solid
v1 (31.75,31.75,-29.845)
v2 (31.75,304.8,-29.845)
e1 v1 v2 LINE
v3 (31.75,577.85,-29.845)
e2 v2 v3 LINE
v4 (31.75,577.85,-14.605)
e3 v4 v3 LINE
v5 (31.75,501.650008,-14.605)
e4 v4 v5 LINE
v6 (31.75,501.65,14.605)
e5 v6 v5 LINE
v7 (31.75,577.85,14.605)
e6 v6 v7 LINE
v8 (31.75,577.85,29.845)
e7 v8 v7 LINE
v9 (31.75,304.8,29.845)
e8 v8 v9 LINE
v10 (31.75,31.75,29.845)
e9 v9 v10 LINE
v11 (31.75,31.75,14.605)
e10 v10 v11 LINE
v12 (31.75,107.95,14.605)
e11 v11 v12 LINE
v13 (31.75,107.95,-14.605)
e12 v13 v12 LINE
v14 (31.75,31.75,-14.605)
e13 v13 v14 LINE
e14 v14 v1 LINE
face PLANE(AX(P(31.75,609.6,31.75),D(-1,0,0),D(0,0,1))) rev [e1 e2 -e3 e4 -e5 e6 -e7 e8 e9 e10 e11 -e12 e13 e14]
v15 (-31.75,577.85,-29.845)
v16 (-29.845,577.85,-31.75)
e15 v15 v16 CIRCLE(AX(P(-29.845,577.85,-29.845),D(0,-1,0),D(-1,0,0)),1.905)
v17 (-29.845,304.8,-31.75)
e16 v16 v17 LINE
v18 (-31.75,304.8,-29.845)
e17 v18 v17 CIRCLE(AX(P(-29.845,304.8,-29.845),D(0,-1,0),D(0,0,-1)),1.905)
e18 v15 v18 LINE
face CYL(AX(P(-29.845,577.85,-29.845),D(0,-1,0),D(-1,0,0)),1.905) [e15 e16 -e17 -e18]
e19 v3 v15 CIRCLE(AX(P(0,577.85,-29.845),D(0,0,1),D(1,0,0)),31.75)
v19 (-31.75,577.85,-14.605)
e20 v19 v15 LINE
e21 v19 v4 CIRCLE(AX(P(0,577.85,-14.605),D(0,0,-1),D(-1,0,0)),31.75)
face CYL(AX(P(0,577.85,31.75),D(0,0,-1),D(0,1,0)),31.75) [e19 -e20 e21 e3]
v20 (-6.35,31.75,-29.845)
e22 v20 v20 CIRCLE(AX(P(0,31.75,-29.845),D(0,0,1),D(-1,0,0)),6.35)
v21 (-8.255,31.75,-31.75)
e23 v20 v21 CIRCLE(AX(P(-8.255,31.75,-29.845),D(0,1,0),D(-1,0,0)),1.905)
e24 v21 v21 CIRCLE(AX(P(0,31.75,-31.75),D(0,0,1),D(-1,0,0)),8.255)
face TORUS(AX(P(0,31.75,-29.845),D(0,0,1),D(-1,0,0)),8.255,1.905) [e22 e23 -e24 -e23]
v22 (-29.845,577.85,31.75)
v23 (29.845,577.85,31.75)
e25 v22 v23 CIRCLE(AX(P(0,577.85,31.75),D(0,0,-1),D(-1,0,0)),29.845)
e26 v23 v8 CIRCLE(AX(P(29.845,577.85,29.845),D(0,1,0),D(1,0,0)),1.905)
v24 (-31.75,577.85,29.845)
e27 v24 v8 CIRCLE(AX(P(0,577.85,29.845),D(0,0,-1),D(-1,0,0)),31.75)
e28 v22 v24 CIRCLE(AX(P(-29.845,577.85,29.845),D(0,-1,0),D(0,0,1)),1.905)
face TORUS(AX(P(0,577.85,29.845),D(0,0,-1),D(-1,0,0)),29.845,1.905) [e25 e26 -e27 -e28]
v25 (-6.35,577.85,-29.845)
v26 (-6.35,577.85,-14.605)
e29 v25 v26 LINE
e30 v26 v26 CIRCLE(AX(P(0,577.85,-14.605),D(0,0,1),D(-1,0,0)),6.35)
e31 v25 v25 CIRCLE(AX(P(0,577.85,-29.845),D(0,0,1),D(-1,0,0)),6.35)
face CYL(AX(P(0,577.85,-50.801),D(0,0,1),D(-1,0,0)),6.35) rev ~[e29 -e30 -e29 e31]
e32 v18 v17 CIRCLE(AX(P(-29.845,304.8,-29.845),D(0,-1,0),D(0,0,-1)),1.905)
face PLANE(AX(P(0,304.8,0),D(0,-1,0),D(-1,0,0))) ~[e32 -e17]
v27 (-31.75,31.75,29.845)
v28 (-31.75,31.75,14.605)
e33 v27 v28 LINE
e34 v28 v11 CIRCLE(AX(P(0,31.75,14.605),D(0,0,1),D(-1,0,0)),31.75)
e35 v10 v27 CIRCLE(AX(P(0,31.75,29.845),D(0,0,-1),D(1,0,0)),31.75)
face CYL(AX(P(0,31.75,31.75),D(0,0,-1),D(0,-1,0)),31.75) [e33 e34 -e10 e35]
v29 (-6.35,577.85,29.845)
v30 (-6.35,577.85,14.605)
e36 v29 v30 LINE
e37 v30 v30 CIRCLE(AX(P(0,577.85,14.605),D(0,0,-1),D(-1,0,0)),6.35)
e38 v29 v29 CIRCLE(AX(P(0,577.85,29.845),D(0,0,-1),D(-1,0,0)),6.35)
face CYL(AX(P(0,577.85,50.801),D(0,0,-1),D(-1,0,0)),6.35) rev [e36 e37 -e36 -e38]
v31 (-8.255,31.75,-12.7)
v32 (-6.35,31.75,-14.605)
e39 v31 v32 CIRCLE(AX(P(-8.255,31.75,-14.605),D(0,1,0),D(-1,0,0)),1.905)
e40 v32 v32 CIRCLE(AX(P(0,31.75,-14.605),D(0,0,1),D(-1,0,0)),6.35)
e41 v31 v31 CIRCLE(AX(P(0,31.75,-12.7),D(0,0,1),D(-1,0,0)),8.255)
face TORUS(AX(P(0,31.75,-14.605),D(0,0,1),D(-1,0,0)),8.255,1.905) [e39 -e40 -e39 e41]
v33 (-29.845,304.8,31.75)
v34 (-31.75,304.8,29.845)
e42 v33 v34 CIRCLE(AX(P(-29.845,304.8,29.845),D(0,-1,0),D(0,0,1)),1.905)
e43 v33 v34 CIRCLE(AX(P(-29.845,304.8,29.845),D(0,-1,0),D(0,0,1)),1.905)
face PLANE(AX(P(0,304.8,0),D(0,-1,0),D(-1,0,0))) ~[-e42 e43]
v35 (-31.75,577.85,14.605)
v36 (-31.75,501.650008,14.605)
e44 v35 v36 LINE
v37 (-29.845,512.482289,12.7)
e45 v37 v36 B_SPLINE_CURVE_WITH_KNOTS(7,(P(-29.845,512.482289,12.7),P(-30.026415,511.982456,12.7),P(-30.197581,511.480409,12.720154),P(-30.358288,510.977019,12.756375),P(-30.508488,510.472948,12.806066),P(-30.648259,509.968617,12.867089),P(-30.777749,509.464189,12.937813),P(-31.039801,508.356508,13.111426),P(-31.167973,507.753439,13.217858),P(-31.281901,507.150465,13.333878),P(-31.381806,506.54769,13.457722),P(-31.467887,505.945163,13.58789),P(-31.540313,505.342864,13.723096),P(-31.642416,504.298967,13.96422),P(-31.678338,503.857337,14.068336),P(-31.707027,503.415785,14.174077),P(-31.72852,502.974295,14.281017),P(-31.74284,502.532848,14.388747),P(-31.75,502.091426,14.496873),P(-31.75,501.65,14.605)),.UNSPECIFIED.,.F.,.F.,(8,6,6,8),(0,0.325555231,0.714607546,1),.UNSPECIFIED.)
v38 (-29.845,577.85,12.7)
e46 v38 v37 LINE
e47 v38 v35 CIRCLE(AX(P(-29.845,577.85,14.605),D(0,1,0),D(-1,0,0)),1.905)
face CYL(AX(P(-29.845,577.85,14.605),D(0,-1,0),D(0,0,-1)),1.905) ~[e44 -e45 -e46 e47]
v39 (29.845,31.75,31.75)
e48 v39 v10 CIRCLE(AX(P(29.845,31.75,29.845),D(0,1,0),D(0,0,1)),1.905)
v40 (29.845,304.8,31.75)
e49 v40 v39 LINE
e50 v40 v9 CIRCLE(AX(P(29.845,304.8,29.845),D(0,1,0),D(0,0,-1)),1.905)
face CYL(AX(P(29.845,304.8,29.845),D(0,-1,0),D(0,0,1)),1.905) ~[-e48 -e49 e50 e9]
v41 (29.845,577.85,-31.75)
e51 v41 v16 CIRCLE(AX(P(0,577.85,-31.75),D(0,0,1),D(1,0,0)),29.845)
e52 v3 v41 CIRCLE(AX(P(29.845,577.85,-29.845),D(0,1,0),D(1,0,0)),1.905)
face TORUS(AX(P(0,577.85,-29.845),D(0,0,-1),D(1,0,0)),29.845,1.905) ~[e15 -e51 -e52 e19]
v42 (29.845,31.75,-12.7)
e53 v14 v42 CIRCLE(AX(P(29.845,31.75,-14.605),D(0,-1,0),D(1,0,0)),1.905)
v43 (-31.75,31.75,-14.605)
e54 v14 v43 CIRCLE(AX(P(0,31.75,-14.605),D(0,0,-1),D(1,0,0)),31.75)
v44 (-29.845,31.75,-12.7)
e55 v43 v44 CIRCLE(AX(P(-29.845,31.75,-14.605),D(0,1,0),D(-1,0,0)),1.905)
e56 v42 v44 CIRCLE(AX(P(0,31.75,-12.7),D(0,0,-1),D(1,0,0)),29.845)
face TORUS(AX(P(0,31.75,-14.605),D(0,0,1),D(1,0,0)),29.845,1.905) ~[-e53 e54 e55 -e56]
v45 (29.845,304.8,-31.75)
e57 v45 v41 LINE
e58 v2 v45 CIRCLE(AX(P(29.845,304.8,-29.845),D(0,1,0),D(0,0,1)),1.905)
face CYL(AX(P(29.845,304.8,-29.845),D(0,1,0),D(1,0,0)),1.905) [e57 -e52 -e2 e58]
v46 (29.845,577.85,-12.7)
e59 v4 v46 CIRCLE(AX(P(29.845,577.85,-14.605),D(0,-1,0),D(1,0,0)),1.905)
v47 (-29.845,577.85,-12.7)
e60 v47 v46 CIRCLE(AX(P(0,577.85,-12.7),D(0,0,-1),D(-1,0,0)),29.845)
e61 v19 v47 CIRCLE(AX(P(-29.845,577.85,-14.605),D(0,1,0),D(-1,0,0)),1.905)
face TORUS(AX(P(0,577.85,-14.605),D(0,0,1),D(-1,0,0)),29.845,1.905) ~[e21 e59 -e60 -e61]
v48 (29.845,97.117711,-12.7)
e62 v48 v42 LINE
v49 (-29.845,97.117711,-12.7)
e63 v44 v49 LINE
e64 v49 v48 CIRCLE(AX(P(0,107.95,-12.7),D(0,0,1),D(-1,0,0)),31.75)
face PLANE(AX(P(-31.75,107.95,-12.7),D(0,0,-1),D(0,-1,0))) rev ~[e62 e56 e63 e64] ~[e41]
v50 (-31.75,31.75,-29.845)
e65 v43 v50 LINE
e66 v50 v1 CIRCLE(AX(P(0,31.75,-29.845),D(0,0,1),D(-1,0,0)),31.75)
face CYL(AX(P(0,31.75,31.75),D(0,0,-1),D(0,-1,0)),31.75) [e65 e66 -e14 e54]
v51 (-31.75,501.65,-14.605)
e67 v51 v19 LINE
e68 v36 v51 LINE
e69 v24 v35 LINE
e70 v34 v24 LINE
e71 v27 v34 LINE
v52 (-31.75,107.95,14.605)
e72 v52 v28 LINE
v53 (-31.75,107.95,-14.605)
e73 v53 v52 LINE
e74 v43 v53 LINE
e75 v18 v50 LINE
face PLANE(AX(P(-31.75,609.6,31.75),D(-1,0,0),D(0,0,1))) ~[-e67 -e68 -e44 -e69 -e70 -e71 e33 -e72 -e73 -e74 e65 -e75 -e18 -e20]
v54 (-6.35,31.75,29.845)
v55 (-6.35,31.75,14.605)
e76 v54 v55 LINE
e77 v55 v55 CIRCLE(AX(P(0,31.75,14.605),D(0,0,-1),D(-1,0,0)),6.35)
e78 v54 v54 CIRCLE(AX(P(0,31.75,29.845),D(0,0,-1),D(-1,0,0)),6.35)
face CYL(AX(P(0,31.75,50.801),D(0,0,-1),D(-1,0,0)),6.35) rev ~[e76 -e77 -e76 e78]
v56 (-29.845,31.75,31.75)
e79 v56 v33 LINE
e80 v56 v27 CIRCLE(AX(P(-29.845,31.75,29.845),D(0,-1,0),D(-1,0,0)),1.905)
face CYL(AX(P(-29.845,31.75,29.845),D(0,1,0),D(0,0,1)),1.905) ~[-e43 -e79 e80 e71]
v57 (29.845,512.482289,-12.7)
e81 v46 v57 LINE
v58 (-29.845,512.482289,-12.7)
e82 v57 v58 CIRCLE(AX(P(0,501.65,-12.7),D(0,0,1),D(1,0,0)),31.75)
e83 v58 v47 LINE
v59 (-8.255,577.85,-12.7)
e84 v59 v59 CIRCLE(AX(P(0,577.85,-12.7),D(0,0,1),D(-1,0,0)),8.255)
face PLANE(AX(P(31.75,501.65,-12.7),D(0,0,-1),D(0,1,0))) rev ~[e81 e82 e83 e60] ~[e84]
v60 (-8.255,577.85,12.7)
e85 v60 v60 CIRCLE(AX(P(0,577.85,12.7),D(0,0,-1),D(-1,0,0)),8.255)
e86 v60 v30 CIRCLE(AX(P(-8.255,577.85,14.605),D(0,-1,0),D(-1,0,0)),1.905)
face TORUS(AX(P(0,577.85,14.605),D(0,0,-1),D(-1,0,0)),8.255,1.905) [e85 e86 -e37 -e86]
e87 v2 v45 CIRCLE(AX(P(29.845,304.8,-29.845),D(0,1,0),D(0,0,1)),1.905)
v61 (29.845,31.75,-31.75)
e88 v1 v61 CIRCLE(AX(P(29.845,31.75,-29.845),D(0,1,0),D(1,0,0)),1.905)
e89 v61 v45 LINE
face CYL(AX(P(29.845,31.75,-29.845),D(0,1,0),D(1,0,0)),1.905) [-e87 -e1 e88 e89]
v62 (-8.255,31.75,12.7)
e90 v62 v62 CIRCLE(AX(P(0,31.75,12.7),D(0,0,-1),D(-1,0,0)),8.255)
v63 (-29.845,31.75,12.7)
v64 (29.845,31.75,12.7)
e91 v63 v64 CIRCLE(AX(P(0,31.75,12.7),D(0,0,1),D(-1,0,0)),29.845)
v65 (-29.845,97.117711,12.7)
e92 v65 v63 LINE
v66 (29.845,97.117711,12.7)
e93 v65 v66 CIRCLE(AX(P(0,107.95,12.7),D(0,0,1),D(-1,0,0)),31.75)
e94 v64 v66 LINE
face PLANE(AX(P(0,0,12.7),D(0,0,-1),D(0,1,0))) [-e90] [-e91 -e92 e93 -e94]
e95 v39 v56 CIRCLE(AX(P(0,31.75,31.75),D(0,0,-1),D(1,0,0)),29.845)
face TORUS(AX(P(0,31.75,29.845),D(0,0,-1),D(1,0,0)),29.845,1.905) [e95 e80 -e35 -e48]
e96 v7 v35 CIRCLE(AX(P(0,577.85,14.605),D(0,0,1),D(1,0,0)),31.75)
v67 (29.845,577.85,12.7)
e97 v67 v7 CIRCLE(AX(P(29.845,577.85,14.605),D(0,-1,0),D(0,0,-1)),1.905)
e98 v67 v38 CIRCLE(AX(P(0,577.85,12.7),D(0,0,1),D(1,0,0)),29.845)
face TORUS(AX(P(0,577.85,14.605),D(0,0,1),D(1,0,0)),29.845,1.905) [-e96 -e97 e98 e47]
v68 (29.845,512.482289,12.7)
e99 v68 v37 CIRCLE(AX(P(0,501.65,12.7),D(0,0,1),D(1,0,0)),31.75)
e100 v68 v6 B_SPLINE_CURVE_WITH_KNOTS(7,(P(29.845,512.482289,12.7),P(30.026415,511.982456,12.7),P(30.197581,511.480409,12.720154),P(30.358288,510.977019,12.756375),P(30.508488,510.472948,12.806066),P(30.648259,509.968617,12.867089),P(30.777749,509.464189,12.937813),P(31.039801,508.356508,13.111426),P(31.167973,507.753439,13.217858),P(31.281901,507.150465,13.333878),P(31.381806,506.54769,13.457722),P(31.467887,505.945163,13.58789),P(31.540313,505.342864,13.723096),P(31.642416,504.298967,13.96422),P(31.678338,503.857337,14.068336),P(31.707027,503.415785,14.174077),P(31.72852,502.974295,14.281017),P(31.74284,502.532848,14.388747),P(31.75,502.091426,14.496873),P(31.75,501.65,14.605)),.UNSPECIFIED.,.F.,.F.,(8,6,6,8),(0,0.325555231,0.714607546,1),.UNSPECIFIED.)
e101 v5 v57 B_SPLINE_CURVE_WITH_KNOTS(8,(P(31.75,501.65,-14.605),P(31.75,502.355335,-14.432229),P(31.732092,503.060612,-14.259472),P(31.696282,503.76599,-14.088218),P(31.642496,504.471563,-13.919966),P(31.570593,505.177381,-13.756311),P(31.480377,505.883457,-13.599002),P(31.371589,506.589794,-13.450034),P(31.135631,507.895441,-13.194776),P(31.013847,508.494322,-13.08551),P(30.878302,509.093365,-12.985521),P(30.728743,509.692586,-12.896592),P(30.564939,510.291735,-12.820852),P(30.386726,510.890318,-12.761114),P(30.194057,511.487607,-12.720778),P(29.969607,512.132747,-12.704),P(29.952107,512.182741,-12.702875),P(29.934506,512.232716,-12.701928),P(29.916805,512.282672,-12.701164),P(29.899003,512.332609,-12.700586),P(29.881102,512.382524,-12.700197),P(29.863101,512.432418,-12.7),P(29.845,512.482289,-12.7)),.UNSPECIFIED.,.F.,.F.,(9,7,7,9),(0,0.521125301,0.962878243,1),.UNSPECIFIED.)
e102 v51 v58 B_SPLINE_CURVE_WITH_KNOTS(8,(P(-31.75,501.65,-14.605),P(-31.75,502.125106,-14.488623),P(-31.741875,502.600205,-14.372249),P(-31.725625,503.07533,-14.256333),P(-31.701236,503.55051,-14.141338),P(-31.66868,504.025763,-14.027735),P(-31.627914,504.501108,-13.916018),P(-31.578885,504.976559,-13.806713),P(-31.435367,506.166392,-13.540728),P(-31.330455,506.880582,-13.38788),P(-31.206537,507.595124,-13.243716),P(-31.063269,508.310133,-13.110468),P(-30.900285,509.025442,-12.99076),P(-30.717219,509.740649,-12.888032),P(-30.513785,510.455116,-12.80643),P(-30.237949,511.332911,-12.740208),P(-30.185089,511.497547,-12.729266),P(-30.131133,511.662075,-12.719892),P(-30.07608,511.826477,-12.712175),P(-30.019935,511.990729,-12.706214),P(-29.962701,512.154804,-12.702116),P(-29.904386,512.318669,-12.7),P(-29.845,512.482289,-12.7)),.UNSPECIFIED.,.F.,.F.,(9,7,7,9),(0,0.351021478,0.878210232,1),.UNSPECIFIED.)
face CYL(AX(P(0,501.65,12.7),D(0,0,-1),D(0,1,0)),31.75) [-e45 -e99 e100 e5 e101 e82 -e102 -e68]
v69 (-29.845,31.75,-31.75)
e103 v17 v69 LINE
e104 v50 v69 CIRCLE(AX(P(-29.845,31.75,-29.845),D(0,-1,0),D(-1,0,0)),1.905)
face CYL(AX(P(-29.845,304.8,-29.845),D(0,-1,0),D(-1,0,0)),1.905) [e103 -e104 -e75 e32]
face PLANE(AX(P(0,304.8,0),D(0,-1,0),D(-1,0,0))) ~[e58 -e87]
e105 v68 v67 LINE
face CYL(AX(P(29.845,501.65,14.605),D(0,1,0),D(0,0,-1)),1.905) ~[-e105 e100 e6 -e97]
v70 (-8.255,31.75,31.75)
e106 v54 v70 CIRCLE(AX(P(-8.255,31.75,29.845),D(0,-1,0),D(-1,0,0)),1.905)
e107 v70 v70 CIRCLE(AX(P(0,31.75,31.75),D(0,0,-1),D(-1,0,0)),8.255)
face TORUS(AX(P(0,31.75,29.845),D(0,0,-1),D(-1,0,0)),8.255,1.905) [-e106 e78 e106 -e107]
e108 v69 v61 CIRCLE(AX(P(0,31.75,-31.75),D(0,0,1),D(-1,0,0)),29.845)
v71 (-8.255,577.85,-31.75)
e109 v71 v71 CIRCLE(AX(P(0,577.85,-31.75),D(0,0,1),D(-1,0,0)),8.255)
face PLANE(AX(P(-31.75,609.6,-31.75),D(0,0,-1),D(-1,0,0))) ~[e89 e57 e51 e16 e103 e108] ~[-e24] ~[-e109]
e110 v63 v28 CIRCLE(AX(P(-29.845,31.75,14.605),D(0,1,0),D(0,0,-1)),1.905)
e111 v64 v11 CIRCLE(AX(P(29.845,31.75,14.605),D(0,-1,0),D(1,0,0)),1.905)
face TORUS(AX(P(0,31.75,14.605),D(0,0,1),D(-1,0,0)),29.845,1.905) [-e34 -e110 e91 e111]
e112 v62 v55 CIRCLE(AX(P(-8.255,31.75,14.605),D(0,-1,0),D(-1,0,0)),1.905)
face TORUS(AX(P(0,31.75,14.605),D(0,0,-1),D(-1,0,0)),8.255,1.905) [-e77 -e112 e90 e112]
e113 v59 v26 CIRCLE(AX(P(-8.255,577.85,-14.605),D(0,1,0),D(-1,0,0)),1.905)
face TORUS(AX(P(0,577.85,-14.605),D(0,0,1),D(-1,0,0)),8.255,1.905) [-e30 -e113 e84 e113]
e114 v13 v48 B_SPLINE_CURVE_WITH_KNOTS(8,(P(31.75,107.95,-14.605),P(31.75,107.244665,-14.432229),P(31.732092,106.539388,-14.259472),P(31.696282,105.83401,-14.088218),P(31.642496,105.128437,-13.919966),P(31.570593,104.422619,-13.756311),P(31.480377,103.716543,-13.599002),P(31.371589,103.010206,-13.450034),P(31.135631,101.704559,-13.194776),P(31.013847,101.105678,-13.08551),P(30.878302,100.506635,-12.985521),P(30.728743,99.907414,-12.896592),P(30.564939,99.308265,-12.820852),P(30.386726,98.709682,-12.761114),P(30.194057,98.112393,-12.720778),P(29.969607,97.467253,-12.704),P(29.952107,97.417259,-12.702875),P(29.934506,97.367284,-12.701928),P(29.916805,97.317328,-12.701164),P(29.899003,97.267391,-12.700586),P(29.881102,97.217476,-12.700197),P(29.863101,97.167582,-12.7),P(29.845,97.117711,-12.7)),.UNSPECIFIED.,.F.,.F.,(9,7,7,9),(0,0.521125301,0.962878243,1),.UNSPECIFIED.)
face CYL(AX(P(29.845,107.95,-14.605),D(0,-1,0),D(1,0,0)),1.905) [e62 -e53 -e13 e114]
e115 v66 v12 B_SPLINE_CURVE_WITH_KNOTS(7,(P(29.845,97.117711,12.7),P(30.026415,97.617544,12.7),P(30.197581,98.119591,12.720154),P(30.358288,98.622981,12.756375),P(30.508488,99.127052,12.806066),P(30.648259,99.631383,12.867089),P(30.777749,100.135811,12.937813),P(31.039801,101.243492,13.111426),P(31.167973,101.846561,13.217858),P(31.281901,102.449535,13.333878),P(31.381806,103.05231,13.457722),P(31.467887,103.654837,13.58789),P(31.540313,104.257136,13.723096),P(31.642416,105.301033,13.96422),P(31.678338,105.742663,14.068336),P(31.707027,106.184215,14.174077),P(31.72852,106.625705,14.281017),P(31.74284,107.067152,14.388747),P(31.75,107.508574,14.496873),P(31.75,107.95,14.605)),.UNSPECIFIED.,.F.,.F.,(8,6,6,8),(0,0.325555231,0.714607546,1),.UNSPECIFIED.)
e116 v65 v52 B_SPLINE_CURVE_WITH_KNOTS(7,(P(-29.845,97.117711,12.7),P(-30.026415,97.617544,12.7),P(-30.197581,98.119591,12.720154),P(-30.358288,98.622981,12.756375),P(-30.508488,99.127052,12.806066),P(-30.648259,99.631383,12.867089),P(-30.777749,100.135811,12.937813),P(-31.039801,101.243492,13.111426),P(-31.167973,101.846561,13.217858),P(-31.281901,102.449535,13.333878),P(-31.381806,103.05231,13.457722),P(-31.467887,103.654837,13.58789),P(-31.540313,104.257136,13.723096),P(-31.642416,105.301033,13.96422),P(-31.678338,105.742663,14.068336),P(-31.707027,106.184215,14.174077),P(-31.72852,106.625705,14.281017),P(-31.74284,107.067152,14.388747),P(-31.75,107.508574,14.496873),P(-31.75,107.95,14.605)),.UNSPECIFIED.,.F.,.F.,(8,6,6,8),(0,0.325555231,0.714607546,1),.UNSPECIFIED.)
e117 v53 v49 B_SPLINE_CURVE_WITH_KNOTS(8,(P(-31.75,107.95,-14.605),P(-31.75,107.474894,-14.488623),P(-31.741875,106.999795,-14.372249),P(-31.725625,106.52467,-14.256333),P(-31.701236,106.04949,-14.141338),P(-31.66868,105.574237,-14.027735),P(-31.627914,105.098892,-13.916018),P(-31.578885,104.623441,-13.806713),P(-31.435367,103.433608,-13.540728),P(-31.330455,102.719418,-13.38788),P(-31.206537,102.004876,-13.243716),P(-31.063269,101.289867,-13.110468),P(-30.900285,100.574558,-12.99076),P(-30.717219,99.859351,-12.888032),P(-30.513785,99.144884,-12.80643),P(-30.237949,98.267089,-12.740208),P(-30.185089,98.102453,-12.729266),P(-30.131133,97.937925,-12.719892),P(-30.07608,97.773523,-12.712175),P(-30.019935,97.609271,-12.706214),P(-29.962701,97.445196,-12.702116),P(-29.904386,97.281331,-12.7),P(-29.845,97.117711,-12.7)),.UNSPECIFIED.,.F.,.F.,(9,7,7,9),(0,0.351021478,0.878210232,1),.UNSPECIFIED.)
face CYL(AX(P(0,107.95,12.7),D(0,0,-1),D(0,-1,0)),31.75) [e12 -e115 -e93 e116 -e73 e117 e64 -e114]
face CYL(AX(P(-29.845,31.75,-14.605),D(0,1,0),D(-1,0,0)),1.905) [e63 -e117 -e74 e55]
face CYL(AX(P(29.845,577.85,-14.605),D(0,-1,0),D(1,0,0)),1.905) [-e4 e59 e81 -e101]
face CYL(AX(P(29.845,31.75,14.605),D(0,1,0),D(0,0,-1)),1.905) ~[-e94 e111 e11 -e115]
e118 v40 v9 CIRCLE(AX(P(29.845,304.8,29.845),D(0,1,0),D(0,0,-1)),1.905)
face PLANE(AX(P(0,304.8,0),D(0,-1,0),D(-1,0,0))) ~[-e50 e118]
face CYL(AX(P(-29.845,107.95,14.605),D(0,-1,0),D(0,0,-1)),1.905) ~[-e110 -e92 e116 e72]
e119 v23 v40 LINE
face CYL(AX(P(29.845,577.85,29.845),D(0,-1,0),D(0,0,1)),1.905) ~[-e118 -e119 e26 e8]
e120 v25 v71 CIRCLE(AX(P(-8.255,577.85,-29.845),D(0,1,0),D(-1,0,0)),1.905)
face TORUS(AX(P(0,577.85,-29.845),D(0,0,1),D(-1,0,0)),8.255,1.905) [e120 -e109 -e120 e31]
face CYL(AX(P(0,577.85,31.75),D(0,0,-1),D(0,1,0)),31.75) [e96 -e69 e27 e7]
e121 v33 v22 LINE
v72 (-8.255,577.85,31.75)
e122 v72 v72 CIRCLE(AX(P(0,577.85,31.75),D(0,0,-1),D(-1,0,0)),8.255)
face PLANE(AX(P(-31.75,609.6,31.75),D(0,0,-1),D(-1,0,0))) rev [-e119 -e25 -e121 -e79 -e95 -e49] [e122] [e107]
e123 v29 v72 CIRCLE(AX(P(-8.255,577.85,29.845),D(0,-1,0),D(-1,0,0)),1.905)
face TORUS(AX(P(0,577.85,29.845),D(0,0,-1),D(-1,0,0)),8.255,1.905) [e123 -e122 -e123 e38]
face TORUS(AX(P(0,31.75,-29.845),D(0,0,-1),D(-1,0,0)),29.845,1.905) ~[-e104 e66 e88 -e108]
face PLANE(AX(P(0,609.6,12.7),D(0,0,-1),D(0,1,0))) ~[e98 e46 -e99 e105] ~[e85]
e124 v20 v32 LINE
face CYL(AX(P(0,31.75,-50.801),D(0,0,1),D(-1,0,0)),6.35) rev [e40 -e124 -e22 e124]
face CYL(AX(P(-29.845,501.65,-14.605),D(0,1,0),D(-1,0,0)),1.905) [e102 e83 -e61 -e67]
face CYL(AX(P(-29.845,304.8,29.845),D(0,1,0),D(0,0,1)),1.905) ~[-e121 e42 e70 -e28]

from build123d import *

# Parameters (mm, degrees)
SKETCH1_W                   = 63.5
SKETCH1_H                   = 63.5
BOSS_EXTRUDE1_DEPTH         = 304.8
FILLET1_RADIUS              = 31.75
FILLET1_LENGTH              = 63.5
SKETCH2_W                   = 25.4
SKETCH2_H                   = 76.2
CUT_EXTRUDE1_DEPTH          = 31.75
HOLE1_D                     = 12.7
HOLE1_DEPTH                 = 19.051
FILLET2_RADIUS              = 31.75
FILLET2_LENGTH              = 25.4
FILLET3_R                   = 1.905
MIRROR7_COPY_1_D            = 12.7
MIRROR7_COPY_1_DEPTH        = 19.051
FILLET1_OF_MIRROR7_2_RADIUS = 31.75
FILLET1_OF_MIRROR7_2_LENGTH = 63.5
FILLET2_OF_MIRROR7_2_RADIUS = 31.75
FILLET2_OF_MIRROR7_2_LENGTH = 25.4
FILLET3_OF_MIRROR7_R        = 1.905


with BuildPart() as part:
    # Sketch1 → Boss-Extrude1 (new body)
    with BuildSketch(Plane(origin=(0, 0, 0), x_dir=(1, 0, 0), z_dir=(0, 1, 0))):
        Rectangle(SKETCH1_W, SKETCH1_H)
    boss_extrude1 = extrude(amount=BOSS_EXTRUDE1_DEPTH)

    # Fillet1: full round fillet: the end face becomes a half cylinder, R = half its width
    fillet1_face = Plane((0, 0, 0), x_dir=(0, 0, -1), z_dir=(0, -1, 0))  # on the end face: x along it, z out of the body
    fillet1_slab = fillet1_face.offset(-FILLET1_RADIUS / 2) * Box(FILLET1_LENGTH, 2 * FILLET1_RADIUS, FILLET1_RADIUS, mode=Mode.PRIVATE)  # the body's end, R deep
    fillet1_round = Plane((0, 31.75, 0), x_dir=(0, -1, 0), z_dir=(0, 0, -1)) * Cylinder(FILLET1_RADIUS, FILLET1_LENGTH, mode=Mode.PRIVATE)  # its axis R under the face
    add(fillet1_slab - fillet1_round, mode=Mode.SUBTRACT)

    # Sketch2 → Cut-Extrude1 (cut, symmetric)
    with BuildSketch(Plane(origin=(0, 0, 0), x_dir=(0, 0, -1), z_dir=(1, 0, 0))):
        with Locations((0, 38.1)):
            Rectangle(SKETCH2_W, SKETCH2_H)
    cut_extrude1 = extrude(amount=CUT_EXTRUDE1_DEPTH, both=True, mode=Mode.SUBTRACT)

    # Hole1
    with Locations(Plane.XY.offset(31.75)):
        with Locations((0, 31.75)):
            hole1 = Hole(HOLE1_D / 2, depth=HOLE1_DEPTH)

    # Mirror1: Hole1 across plane
    add(hole1.mirror(Plane.XY), mode=Mode.SUBTRACT)

    # Fillet2: full round fillet: the end face becomes a half cylinder, R = half its width
    fillet2_face = Plane((0, 76.2, 0), x_dir=(0, 0, -1), z_dir=(0, -1, 0))  # on the end face: x along it, z out of the body
    fillet2_slab = fillet2_face.offset(-FILLET2_RADIUS / 2) * Box(FILLET2_LENGTH, 2 * FILLET2_RADIUS, FILLET2_RADIUS, mode=Mode.PRIVATE)  # the body's end, R deep
    fillet2_round = Plane((0, 107.95, 0), x_dir=(0, -1, 0), z_dir=(0, 0, -1)) * Cylinder(FILLET2_RADIUS, FILLET2_LENGTH, mode=Mode.PRIVATE)  # its axis R under the face
    add(fillet2_slab - fillet2_round, mode=Mode.SUBTRACT)

    # Fillet3
    fillet3_edges = [part.edges().sort_by_distance(p)[0] for p in [
        (0, 0, -31.75),
        (0, 0, 31.75),
        (-31.75, 69.85, -12.7),
        (0, 0, 12.7),
        (0, 0, -12.7),
        (-31.75, 69.85, 12.7),
        (31.75, 69.85, 12.7),
        (31.75, 69.85, -12.7),
        (6.35, 31.75, 31.75),
        (6.35, 31.75, 12.7),
        (6.35, 31.75, -31.75),
        (6.35, 31.75, -12.7),
        (31.75, 168.275, 31.75),
        (-31.75, 168.275, 31.75),
        (-31.75, 168.275, -31.75),
        (31.75, 168.275, -31.75),
    ]]
    fillet(fillet3_edges, radius=FILLET3_R)

    # Mirror7: Boss-Extrude1, Cut-Extrude1, Hole1 across plane
    add(boss_extrude1.mirror(Plane(origin=(0, 304.8, 0), x_dir=(0, 0, 1), z_dir=(0, -1, 0))))
    add(cut_extrude1.mirror(Plane(origin=(0, 304.8, 0), x_dir=(0, 0, 1), z_dir=(0, -1, 0))), mode=Mode.SUBTRACT)
    add(hole1.mirror(Plane(origin=(0, 304.8, 0), x_dir=(0, 0, 1), z_dir=(0, -1, 0))), mode=Mode.SUBTRACT)

    # Mirror7 copy 1
    with Locations(Plane(origin=(0, 609.6, -31.75), x_dir=(1, 0, 0), z_dir=(0, 0, -1))):
        with Locations((0, 31.75)):
            Hole(MIRROR7_COPY_1_D / 2, depth=MIRROR7_COPY_1_DEPTH)

    # Fillet1 of Mirror7 2: full round fillet: the end face becomes a half cylinder, R = half its width
    fillet1_of_mirror7_2_face = Plane((0, 609.6, 0), x_dir=(0, 0, -1), z_dir=(0, 1, 0))  # on the end face: x along it, z out of the body
    fillet1_of_mirror7_2_slab = fillet1_of_mirror7_2_face.offset(-FILLET1_OF_MIRROR7_2_RADIUS / 2) * Box(FILLET1_OF_MIRROR7_2_LENGTH, 2 * FILLET1_OF_MIRROR7_2_RADIUS, FILLET1_OF_MIRROR7_2_RADIUS, mode=Mode.PRIVATE)  # the body's end, R deep
    fillet1_of_mirror7_2_round = Plane((0, 577.85, 0), x_dir=(0, 1, 0), z_dir=(0, 0, -1)) * Cylinder(FILLET1_OF_MIRROR7_2_RADIUS, FILLET1_OF_MIRROR7_2_LENGTH, mode=Mode.PRIVATE)  # its axis R under the face
    add(fillet1_of_mirror7_2_slab - fillet1_of_mirror7_2_round, mode=Mode.SUBTRACT)

    # Fillet2 of Mirror7 2: full round fillet: the end face becomes a half cylinder, R = half its width
    fillet2_of_mirror7_2_face = Plane((0, 533.4, 0), x_dir=(0, 0, -1), z_dir=(0, 1, 0))  # on the end face: x along it, z out of the body
    fillet2_of_mirror7_2_slab = fillet2_of_mirror7_2_face.offset(-FILLET2_OF_MIRROR7_2_RADIUS / 2) * Box(FILLET2_OF_MIRROR7_2_LENGTH, 2 * FILLET2_OF_MIRROR7_2_RADIUS, FILLET2_OF_MIRROR7_2_RADIUS, mode=Mode.PRIVATE)  # the body's end, R deep
    fillet2_of_mirror7_2_round = Plane((0, 501.65, 0), x_dir=(0, 1, 0), z_dir=(0, 0, -1)) * Cylinder(FILLET2_OF_MIRROR7_2_RADIUS, FILLET2_OF_MIRROR7_2_LENGTH, mode=Mode.PRIVATE)  # its axis R under the face
    add(fillet2_of_mirror7_2_slab - fillet2_of_mirror7_2_round, mode=Mode.SUBTRACT)

    # Fillet3 of Mirror7
    fillet3_of_mirror7_edges = [part.edges().sort_by_distance(p)[0] for p in [
        (0, 609.6, -31.75),
        (0, 609.6, 31.75),
        (-31.75, 539.75, -12.7),
        (0, 609.6, 12.7),
        (0, 609.6, -12.7),
        (-31.75, 539.75, 12.7),
        (31.75, 539.75, 12.7),
        (31.75, 539.75, -12.7),
        (6.35, 577.85, 31.75),
        (6.35, 577.85, 12.7),
        (6.35, 577.85, -31.75),
        (6.35, 577.85, -12.7),
        (31.75, 441.325, 31.75),
        (-31.75, 441.325, 31.75),
        (-31.75, 441.325, -31.75),
        (31.75, 441.325, -31.75),
    ]]
    fillet(fillet3_of_mirror7_edges, radius=FILLET3_OF_MIRROR7_R)


solid = part.part
